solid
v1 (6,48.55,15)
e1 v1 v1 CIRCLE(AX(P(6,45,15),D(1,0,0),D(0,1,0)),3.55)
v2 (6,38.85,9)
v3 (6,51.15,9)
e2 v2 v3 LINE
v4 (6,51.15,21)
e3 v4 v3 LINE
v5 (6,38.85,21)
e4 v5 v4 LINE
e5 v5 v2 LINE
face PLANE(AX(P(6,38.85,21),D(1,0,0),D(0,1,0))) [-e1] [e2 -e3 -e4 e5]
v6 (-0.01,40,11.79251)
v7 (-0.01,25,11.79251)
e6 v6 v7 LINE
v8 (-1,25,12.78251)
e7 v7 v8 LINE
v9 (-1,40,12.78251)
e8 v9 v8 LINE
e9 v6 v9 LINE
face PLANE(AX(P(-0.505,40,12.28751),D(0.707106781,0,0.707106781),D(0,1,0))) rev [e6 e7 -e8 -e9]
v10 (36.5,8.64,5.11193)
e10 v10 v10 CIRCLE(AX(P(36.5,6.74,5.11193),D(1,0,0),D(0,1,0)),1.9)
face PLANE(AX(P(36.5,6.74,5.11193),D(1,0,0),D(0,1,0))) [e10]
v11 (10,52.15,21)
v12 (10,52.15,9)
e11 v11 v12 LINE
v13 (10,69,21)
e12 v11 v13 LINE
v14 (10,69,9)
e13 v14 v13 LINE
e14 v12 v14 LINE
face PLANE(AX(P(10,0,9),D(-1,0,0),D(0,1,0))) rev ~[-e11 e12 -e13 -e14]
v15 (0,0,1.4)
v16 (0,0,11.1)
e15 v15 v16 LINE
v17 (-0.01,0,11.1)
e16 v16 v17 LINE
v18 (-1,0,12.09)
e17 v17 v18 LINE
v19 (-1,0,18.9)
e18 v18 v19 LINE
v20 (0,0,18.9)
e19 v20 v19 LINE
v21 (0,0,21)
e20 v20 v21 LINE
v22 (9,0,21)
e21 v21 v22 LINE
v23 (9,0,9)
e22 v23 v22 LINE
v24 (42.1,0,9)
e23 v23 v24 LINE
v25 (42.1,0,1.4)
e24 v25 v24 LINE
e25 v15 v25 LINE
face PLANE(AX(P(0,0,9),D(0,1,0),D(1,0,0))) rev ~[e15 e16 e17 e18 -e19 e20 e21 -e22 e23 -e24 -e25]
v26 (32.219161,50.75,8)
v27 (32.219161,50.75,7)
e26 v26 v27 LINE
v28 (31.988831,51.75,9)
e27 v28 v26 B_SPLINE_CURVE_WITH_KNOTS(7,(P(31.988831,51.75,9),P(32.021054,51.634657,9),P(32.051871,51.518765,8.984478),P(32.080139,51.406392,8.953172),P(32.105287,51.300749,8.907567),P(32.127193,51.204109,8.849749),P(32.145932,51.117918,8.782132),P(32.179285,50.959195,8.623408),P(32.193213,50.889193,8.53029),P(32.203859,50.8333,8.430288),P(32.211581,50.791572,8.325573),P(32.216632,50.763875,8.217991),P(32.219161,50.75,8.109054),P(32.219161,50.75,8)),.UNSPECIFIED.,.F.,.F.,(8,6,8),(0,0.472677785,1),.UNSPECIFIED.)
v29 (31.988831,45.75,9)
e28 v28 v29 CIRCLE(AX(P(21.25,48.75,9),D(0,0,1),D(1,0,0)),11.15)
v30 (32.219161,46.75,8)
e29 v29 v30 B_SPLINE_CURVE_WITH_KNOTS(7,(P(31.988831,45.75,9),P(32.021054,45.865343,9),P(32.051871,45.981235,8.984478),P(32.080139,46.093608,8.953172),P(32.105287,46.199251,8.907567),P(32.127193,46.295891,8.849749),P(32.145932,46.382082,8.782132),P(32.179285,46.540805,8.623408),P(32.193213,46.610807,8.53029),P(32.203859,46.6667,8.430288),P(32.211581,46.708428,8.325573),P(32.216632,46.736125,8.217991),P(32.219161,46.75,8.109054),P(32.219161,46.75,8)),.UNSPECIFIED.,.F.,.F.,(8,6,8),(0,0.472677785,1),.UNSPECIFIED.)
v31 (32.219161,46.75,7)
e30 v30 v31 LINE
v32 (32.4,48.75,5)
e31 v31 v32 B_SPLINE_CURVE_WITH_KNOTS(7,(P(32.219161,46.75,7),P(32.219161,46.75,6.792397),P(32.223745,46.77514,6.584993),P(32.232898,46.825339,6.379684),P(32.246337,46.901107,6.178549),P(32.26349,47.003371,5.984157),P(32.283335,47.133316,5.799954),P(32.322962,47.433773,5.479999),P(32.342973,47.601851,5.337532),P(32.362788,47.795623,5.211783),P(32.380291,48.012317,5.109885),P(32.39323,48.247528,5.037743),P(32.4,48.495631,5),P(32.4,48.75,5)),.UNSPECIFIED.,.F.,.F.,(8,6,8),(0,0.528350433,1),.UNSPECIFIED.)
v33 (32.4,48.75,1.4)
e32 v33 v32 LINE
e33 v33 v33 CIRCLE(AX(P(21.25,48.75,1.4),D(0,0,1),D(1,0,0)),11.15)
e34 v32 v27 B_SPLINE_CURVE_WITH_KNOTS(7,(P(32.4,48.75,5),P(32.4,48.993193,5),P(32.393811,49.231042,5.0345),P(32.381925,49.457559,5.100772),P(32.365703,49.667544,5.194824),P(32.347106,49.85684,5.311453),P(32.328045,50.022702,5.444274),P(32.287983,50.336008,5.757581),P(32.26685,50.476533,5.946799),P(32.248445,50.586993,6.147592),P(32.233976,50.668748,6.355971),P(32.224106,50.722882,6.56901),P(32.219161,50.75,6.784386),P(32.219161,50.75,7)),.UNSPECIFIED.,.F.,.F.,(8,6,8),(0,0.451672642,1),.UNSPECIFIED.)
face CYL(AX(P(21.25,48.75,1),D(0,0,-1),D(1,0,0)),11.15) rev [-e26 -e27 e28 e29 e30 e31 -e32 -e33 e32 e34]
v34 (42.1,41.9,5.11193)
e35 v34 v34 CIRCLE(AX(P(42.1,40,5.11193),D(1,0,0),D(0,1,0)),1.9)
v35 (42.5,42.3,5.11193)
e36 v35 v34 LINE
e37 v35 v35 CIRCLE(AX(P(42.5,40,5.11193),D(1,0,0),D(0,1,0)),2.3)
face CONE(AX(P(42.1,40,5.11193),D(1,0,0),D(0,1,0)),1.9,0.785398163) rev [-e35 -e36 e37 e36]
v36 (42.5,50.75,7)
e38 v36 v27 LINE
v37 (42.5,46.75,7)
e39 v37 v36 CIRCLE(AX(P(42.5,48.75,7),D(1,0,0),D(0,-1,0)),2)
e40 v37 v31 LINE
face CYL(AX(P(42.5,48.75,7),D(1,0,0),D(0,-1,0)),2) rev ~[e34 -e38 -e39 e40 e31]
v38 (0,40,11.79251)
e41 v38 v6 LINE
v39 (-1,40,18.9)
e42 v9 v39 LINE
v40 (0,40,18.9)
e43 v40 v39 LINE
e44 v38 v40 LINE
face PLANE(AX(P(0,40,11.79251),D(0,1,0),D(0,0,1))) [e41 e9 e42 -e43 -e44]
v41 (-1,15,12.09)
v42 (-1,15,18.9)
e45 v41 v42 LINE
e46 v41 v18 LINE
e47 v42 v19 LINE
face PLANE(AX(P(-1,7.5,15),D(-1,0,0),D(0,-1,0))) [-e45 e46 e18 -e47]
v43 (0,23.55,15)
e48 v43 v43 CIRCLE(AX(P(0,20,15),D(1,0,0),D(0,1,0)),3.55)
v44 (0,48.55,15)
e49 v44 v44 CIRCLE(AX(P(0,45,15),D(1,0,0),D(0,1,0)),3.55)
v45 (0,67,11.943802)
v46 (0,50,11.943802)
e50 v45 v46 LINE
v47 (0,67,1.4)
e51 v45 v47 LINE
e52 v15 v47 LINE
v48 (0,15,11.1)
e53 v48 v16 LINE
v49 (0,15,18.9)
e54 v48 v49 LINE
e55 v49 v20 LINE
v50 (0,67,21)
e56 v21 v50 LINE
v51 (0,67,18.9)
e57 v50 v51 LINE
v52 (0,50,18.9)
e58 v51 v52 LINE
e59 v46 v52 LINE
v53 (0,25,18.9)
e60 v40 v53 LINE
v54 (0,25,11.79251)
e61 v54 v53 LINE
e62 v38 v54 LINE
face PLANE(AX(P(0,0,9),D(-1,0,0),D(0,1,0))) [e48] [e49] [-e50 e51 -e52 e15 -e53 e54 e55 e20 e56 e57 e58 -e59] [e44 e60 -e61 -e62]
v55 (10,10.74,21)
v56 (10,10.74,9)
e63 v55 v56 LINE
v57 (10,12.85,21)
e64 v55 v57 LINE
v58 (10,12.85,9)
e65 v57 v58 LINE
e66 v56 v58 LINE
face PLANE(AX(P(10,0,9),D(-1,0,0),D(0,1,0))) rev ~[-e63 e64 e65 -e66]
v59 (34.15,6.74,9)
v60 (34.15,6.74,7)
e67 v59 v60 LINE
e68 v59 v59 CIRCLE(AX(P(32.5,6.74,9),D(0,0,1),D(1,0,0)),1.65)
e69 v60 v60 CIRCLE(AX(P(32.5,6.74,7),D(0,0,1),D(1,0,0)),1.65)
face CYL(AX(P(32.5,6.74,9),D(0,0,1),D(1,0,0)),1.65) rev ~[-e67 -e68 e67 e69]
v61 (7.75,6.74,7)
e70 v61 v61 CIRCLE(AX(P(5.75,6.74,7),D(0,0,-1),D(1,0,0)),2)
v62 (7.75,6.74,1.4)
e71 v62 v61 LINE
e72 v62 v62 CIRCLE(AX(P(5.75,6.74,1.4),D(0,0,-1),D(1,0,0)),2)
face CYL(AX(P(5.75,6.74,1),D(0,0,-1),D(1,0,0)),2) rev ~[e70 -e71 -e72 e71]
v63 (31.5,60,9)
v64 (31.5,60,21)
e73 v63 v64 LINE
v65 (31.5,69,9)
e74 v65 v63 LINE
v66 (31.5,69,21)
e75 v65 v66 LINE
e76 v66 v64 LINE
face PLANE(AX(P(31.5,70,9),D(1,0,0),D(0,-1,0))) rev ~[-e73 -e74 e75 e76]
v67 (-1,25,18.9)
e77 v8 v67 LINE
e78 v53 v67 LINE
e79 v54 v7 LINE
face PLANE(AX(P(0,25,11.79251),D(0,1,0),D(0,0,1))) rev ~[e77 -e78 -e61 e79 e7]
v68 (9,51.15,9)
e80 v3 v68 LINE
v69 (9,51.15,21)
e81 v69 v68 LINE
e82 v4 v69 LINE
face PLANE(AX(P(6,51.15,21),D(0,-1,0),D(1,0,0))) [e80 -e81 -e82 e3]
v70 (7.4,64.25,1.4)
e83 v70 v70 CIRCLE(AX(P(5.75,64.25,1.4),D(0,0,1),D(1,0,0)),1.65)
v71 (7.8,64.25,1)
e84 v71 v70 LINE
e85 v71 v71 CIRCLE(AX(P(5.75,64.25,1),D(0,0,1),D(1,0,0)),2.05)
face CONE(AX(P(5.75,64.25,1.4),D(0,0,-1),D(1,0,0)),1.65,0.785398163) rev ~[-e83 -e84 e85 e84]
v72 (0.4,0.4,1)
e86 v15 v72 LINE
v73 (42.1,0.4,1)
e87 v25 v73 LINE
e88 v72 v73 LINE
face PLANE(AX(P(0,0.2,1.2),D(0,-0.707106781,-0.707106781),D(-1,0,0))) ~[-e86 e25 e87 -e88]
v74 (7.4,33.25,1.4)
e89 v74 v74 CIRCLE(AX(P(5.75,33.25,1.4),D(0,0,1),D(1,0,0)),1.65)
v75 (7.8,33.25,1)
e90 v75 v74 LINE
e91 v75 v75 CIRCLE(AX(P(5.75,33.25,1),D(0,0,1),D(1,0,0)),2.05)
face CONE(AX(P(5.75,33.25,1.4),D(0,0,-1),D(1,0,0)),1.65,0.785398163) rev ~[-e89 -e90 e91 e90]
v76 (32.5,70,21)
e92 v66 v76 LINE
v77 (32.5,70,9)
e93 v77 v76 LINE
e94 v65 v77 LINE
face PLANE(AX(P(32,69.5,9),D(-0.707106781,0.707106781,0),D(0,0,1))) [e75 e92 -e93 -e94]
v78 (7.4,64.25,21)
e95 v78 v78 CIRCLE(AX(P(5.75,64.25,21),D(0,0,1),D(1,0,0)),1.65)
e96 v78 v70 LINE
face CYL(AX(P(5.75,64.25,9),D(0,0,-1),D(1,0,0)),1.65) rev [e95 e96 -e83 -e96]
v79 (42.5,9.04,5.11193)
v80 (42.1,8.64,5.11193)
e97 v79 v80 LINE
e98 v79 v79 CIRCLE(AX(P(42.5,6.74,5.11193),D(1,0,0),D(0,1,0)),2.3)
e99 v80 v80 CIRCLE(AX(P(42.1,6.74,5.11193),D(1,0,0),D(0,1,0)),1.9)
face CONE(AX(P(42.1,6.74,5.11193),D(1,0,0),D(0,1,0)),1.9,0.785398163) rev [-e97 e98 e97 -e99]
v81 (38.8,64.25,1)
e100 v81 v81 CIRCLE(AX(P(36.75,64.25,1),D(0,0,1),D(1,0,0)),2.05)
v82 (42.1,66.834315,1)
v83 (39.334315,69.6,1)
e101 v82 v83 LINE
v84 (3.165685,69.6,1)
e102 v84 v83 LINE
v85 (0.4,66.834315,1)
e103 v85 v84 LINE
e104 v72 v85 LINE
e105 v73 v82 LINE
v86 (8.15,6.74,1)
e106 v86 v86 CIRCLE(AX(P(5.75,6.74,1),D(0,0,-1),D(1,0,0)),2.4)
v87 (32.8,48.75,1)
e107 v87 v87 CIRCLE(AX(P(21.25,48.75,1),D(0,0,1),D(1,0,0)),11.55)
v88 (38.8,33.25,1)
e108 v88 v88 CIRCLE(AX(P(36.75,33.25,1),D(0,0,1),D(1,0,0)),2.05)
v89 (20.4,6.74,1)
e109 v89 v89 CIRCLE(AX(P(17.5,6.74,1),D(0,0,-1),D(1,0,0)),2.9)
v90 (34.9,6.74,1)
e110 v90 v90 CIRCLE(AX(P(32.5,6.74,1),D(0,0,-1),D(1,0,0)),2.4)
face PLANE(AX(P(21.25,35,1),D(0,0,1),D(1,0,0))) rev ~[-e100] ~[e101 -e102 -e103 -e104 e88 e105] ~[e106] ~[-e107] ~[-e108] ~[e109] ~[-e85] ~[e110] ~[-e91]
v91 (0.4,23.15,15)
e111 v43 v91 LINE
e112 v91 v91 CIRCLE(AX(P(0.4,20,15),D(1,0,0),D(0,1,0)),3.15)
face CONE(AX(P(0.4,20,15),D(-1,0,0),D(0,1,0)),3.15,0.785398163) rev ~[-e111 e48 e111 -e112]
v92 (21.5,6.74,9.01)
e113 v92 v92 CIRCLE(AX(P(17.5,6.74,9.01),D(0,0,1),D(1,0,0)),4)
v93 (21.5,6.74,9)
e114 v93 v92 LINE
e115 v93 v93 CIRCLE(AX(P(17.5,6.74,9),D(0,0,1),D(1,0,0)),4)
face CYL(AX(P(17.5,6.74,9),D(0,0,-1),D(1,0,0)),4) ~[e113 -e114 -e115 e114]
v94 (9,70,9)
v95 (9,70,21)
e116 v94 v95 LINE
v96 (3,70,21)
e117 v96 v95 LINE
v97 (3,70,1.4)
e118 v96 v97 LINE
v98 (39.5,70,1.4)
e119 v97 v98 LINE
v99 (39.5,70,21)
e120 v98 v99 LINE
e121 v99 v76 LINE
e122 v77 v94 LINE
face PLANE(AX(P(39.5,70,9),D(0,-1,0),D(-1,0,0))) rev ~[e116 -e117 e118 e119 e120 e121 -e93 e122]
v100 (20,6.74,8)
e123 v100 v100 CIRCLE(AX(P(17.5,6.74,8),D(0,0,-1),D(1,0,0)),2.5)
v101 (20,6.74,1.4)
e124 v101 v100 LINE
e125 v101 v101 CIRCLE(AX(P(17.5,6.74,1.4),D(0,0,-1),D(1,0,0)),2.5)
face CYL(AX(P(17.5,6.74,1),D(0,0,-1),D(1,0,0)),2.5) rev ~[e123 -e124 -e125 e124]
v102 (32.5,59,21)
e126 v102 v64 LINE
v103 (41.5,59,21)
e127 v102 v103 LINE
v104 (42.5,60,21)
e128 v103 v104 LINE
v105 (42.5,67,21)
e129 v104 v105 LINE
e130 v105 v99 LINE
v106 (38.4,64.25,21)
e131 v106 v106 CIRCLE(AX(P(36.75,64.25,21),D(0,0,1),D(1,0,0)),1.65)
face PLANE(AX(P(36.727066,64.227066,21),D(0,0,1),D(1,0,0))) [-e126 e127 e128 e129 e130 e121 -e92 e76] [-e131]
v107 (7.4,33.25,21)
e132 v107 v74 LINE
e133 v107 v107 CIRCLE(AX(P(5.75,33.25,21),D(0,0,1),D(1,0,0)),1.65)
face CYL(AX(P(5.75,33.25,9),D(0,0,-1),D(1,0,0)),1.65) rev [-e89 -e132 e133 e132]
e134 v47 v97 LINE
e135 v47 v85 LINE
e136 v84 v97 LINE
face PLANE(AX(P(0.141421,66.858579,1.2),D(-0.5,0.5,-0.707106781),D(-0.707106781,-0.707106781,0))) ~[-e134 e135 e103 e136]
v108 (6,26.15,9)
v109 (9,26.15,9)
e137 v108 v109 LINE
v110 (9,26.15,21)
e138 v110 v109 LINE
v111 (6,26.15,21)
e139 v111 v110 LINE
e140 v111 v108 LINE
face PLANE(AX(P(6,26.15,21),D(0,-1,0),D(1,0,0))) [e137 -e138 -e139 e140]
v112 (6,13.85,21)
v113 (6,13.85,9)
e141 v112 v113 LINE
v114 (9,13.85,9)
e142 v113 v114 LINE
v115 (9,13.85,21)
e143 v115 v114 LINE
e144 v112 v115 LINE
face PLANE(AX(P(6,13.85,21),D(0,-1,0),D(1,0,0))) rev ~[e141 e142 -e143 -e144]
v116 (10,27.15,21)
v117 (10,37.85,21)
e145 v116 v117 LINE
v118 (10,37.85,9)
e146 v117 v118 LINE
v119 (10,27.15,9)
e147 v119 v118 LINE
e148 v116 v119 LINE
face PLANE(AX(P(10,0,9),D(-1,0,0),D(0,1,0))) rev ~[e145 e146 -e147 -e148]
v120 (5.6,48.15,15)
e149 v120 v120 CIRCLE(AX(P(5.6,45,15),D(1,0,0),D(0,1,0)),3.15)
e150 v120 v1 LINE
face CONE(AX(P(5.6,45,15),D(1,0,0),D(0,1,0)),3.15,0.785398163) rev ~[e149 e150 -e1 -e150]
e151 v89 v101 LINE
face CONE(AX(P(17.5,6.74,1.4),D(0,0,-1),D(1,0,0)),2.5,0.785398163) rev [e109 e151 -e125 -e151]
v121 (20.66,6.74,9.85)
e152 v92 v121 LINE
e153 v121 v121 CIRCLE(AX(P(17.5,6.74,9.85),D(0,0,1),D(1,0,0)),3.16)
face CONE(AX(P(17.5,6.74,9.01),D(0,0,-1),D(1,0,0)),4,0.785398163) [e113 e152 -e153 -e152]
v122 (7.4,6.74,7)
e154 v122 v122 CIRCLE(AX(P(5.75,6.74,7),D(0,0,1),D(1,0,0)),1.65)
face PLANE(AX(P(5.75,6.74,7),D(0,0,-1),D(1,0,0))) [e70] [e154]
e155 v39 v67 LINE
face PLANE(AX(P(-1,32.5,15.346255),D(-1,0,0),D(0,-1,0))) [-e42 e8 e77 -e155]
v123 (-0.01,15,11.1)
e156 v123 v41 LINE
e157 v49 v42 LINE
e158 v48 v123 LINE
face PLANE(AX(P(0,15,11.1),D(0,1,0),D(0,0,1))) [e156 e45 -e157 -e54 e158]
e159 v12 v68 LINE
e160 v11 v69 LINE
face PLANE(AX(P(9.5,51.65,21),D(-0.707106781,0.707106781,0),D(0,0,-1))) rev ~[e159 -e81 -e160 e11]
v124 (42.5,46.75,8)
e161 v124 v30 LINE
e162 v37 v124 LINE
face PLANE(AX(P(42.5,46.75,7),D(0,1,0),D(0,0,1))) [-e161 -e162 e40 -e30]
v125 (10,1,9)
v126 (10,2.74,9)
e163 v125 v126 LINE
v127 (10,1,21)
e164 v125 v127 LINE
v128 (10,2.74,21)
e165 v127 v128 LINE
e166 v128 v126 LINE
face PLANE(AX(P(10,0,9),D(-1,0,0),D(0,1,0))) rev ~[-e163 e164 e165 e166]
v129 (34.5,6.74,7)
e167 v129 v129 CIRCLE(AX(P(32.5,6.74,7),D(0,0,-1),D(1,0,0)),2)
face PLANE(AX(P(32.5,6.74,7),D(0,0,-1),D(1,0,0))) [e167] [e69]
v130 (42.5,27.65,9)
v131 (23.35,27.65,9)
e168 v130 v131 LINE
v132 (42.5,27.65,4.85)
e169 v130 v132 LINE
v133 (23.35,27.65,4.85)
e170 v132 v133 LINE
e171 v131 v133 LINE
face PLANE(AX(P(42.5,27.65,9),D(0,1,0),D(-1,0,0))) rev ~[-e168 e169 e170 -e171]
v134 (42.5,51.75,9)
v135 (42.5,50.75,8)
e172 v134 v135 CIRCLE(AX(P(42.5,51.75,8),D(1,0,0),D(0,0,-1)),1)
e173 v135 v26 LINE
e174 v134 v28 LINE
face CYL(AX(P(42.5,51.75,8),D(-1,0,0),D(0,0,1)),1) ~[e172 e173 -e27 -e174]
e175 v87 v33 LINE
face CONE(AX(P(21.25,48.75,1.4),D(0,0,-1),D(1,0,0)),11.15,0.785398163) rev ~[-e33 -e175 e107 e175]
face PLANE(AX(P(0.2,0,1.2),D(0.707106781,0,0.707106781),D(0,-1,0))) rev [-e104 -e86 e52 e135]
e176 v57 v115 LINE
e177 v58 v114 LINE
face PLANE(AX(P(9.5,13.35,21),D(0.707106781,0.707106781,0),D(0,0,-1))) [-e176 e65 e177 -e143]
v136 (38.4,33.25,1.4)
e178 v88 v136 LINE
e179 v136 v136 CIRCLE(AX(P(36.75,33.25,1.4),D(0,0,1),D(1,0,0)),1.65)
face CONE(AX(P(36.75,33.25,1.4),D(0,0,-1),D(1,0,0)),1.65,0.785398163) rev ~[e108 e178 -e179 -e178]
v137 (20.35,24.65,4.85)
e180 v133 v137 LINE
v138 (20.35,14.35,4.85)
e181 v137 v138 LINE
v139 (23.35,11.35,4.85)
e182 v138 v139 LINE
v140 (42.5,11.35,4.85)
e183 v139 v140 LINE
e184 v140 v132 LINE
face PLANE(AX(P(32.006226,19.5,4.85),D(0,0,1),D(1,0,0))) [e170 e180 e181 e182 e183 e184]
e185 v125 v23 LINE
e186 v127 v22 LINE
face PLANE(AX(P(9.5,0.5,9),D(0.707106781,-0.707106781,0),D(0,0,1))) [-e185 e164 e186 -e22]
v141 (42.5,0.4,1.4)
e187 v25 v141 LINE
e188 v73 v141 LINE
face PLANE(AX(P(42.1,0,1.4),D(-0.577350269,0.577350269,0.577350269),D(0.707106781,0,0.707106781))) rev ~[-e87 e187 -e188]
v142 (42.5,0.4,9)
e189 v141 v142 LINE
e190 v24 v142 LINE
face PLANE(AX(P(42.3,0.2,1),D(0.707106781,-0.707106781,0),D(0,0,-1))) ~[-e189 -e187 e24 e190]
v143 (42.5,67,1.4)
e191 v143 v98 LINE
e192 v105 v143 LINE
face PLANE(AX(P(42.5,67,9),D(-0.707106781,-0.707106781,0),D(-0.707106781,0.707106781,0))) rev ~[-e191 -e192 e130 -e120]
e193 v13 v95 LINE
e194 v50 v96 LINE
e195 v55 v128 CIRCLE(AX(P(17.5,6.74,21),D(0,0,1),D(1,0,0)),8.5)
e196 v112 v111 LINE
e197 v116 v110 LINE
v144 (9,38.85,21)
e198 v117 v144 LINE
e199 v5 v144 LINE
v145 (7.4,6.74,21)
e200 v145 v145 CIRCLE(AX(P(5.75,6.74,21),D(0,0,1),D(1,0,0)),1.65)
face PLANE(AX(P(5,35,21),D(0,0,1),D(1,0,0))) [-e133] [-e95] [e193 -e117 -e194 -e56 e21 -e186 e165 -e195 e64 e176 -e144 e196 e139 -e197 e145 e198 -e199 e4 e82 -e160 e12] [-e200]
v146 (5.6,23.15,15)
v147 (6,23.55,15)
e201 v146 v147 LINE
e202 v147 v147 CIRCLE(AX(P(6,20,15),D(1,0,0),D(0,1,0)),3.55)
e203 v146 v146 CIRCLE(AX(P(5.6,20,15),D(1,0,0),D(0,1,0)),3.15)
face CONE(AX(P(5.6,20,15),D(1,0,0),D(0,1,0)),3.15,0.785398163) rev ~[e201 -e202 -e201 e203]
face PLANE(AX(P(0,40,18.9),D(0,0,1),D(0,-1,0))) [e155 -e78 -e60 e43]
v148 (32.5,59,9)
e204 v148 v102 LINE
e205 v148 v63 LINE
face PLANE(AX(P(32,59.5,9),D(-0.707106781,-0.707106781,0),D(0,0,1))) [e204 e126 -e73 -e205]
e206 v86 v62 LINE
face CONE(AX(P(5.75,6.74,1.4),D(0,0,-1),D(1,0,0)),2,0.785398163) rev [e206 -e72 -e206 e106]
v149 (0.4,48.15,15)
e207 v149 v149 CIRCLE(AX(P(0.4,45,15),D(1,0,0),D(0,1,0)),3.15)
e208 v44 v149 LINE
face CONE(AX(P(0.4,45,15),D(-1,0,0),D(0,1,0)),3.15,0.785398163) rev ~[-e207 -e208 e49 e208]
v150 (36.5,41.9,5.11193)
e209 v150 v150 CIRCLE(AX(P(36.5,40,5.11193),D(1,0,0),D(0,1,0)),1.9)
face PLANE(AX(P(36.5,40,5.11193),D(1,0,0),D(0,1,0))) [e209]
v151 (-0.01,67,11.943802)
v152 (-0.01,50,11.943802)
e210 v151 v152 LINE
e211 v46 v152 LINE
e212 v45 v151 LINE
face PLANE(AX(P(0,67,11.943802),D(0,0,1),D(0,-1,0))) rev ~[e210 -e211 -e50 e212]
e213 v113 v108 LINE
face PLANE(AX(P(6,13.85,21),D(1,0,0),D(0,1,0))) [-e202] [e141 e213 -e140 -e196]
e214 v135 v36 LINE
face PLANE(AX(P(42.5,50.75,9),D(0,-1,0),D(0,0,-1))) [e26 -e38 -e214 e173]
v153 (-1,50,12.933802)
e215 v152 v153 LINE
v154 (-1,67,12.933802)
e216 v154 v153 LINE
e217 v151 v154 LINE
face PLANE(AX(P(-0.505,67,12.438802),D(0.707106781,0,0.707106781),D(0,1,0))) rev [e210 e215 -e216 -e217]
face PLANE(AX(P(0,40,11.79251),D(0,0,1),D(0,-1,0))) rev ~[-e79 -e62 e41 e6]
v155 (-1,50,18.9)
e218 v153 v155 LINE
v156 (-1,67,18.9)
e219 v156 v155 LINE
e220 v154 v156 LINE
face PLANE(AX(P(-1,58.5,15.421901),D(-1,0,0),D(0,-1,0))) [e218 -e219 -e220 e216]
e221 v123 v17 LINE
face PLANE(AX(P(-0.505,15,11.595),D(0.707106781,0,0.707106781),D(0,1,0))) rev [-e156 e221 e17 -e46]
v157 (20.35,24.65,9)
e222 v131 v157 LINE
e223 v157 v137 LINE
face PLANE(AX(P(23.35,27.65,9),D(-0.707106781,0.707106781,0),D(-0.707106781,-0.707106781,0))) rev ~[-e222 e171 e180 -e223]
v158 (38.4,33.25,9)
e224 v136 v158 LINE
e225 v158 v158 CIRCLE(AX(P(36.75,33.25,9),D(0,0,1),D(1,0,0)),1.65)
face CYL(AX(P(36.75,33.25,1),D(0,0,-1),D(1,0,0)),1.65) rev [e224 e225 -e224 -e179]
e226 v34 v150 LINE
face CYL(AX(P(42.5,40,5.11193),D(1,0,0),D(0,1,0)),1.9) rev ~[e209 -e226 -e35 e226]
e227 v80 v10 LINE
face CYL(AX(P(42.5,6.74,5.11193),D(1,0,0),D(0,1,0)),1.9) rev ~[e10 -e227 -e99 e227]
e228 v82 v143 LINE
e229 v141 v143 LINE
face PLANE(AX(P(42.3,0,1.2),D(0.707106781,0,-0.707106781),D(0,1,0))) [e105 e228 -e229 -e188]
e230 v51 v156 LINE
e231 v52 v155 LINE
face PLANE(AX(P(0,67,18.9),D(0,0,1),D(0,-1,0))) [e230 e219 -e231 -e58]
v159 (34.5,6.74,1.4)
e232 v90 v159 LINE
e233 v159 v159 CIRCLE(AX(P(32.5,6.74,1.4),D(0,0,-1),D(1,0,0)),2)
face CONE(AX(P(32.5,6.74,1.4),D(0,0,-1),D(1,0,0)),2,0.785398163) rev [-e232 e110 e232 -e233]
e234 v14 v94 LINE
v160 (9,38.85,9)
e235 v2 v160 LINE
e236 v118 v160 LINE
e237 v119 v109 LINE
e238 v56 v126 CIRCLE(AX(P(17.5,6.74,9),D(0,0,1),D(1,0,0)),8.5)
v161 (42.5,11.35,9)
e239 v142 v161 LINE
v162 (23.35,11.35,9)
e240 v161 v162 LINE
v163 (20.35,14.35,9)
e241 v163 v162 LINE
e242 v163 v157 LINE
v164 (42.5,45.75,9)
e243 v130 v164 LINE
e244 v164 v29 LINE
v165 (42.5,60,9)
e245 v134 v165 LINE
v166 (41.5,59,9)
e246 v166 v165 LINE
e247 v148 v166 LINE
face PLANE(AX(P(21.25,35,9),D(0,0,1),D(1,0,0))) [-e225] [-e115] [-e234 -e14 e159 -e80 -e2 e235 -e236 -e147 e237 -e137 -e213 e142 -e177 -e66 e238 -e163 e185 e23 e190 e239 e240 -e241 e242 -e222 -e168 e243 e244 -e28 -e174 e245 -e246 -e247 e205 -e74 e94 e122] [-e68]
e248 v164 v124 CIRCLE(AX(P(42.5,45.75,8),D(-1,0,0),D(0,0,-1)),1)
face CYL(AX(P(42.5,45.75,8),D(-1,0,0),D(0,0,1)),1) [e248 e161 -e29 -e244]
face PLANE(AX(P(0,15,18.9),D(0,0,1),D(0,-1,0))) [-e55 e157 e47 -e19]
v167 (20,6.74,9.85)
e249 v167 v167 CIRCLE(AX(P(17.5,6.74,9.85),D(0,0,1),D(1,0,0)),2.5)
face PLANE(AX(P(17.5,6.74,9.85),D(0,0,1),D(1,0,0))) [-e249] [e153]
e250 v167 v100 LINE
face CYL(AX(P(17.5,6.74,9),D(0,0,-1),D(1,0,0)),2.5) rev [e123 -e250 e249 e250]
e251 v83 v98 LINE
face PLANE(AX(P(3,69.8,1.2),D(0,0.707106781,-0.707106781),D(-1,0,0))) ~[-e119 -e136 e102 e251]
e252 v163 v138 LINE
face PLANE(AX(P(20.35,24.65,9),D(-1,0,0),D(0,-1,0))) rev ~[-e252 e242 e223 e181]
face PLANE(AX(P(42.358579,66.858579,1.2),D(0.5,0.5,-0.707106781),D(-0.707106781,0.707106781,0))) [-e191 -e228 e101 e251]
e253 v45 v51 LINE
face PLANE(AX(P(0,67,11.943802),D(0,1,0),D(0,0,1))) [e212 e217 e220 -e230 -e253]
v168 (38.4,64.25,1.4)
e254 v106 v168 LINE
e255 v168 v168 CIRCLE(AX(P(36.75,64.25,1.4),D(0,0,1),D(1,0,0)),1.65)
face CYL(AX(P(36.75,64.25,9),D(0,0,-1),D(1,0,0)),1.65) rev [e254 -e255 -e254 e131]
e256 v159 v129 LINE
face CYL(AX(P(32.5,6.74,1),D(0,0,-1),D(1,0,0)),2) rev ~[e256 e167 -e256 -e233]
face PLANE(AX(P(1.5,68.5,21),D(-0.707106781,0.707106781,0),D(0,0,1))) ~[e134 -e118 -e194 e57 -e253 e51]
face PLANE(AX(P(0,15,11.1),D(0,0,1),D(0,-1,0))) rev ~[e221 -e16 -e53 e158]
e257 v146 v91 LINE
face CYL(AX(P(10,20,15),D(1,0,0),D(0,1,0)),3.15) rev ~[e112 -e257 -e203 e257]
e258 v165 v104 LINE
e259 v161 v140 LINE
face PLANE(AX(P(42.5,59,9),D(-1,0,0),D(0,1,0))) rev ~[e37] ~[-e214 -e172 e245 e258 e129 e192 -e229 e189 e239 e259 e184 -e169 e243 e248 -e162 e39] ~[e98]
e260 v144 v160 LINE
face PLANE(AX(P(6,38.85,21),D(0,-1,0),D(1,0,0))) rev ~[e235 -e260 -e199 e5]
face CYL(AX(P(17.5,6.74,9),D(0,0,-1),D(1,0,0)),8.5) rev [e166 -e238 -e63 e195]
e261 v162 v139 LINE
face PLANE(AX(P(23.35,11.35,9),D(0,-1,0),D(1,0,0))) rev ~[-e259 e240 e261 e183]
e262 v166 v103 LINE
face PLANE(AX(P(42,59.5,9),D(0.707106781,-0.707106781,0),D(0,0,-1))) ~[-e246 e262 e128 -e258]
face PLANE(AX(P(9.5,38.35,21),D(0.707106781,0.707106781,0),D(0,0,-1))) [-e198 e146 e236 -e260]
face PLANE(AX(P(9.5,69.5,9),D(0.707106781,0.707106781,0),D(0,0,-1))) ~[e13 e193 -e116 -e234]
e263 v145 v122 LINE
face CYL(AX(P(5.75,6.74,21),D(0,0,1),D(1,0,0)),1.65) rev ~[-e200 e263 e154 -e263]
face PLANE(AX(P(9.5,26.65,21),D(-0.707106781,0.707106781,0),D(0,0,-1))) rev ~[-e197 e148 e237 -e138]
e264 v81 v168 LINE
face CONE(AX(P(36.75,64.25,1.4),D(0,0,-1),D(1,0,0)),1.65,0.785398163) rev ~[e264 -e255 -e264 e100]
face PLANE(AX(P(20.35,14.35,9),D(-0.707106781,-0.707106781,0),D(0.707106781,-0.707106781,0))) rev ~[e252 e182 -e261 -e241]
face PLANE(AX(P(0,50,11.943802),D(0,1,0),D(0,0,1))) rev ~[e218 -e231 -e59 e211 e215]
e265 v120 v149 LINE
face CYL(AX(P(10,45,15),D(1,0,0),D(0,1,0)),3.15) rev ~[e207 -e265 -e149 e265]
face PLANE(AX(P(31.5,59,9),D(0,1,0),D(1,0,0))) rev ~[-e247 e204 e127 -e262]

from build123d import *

# Parameters (mm, degrees)
SKETCH_W        = 42.5
SKETCH_H        = 70
SKETCH_R        = 11.15
SKETCH_R_2      = 1.65
SKETCH_R_3      = 2.5
PAD003_DEPTH    = 8
POCKET002_DEPTH = 4.15
SKETCH007_W     = 10
SKETCH007_H     = 70
SKETCH007_R     = 1.65
PAD004_DEPTH    = 12
SKETCH008_R     = 8.5
POCKET003_DEPTH = 12
CHAMFER004_SIZE = 3
SKETCH011_R     = 1.65
PAD005_DEPTH    = 12
CHAMFER005_SIZE = 1
SKETCH012_R     = 1.65
POCKET005_DEPTH = 8.001
SKETCH013_R     = 1.65
POCKET006_DEPTH = 20.001
SKETCH014_R     = 4
SKETCH014_R_2   = 2.5
PAD006_DEPTH    = 0.85
CHAMFER006_SIZE = 0.84
SKETCH015_R     = 1.9
POCKET007_DEPTH = 6
SKETCH016_R     = 3.15
POCKET008_DEPTH = 10.001
SKETCH017_W     = 4
SKETCH017_H     = 12.3
POCKET009_DEPTH = 12
CHAMFER007_SIZE = 1
SKETCH018_W     = 17
SKETCH018_H     = 6.956198
SKETCH018_W_2   = 15
SKETCH018_H_2   = 7.10749
SKETCH018_H_3   = 7.8
PAD007_DEPTH    = 1
CHAMFER008_SIZE = 0.99
SKETCH019_R     = 3.25
POCKET010_DEPTH = 7
SKETCH020_R     = 2
POCKET011_DEPTH = 6
CHAMFER009_SIZE = 0.4
POCKET027_DEPTH = 12
FILLET_R        = 1
SKETCH041_R     = 4.5
SKETCH041_R_2   = 2.5
PAD012_DEPTH    = 7
CHAMFER021_SIZE = 0.4


with BuildPart() as part:
    # Sketch → Pad003 (new body)
    with BuildSketch(Plane.XY):
        with Locations((21.25, 35)):
            Rectangle(SKETCH_W, SKETCH_H)
        with Locations((21.25, 48.75)):
            Circle(SKETCH_R, mode=Mode.SUBTRACT)
        with Locations((5.75, 64.25)):
            Circle(SKETCH_R_2, mode=Mode.SUBTRACT)
        with Locations((36.75, 64.25)):
            Circle(SKETCH_R_2, mode=Mode.SUBTRACT)
        with Locations((5.75, 33.25)):
            Circle(SKETCH_R_2, mode=Mode.SUBTRACT)
        with Locations((36.75, 33.25)):
            Circle(SKETCH_R_2, mode=Mode.SUBTRACT)
        with Locations((17.5, 6.74)):
            Circle(SKETCH_R_3, mode=Mode.SUBTRACT)
    extrude(amount=PAD003_DEPTH)

    # Sketch006 (on Face12 of Pad003) → Pocket002 (cut)
    with BuildSketch(Plane.XY.offset(8)):
        Polygon((42.5, 27.65), (23.35, 27.65), (20.35, 24.65), (20.35, 14.35), (23.35, 11.35), (42.5, 11.35), align=None)
    extrude(amount=-POCKET002_DEPTH, mode=Mode.SUBTRACT)

    # Sketch007 (on Face4 of Pocket002) → Pad004 (join)
    with BuildSketch(Plane.XY.offset(8)):
        with Locations((5, 35)):
            Rectangle(SKETCH007_W, SKETCH007_H)
        with Locations((5.75, 64.25)):
            Circle(SKETCH007_R, mode=Mode.SUBTRACT)
        with Locations((5.75, 33.25)):
            Circle(SKETCH007_R, mode=Mode.SUBTRACT)
    extrude(amount=PAD004_DEPTH)

    # Sketch008 (on Face4 of Pad004) → Pocket003 (cut)
    with BuildSketch(Plane.XY.offset(8)):
        with Locations((17.5, 6.74)):
            Circle(SKETCH008_R)
    extrude(amount=POCKET003_DEPTH, mode=Mode.SUBTRACT)

    # Chamfer004
    chamfer004_edges = [part.edges().sort_by_distance(p)[0] for p in [
        (42.5, 70, 4),
        (0, 70, 4),
    ]]
    chamfer(chamfer004_edges, length=CHAMFER004_SIZE)

    # Sketch011 (on Face5 of Chamfer004) → Pad005 (join)
    with BuildSketch(Plane.XY.offset(8)):
        Polygon((42.5, 67), (39.5, 70), (31.5, 70), (31.5, 59), (42.5, 59), align=None)
        with Locations((36.75, 64.25)):
            Circle(SKETCH011_R, mode=Mode.SUBTRACT)
    extrude(amount=PAD005_DEPTH)

    # Chamfer005
    chamfer005_edges = [part.edges().sort_by_distance(p)[0] for p in [
        (42.5, 59, 14),
        (31.5, 59, 14),
        (31.5, 70, 14),
        (10, 70, 14),
        (10, 0, 14),
    ]]
    chamfer(chamfer005_edges, length=CHAMFER005_SIZE)

    # Sketch012 (on Face26 of Chamfer005) → Pocket005 (cut, through all)
    with BuildSketch(Plane.XY.offset(8)):
        with Locations((32.5, 6.74)):
            Circle(SKETCH012_R)
    extrude(amount=-POCKET005_DEPTH, mode=Mode.SUBTRACT)

    # Sketch013 (on Face38 of Pocket005) → Pocket006 (cut, through all)
    with BuildSketch(Plane.XY.offset(20)):
        with Locations((5.75, 6.74)):
            Circle(SKETCH013_R)
    extrude(amount=-POCKET006_DEPTH, mode=Mode.SUBTRACT)

    # Sketch014 (on Face18 of Pocket006) → Pad006 (join)
    with BuildSketch(Plane.XY.offset(8)):
        with Locations((17.5, 6.74)):
            Circle(SKETCH014_R)
        with Locations((17.5, 6.74)):
            Circle(SKETCH014_R_2, mode=Mode.SUBTRACT)
    extrude(amount=PAD006_DEPTH)

    # Chamfer006
    chamfer006_edges = [part.edges().sort_by_distance(p)[0] for p in [
        (13.5, 6.74, 8.85),
    ]]
    chamfer(chamfer006_edges, length=CHAMFER006_SIZE)

    # Sketch015 (on Face17 of Chamfer006) → Pocket007 (cut)
    with BuildSketch(Plane.YZ.offset(42.5)):
        with Locations((6.74, 4.11193)):
            Circle(SKETCH015_R)
        with Locations((40, 4.11193)):
            Circle(SKETCH015_R)
    extrude(amount=-POCKET007_DEPTH, mode=Mode.SUBTRACT)

    # Sketch016 (on Face14 of Pocket007) → Pocket008 (cut, through all)
    with BuildSketch(Plane.YZ.offset(10)):
        with Locations((20, 14)):
            Circle(SKETCH016_R)
        with Locations((45, 14)):
            Circle(SKETCH016_R)
    extrude(amount=-POCKET008_DEPTH, mode=Mode.SUBTRACT)

    # Sketch017 (on Face36 of Pocket008) → Pocket009 (cut)
    with BuildSketch(Plane.XY.offset(20)):
        with Locations((8, 45)):
            Rectangle(SKETCH017_W, SKETCH017_H)
        with Locations((8, 20)):
            Rectangle(SKETCH017_W, SKETCH017_H)
    extrude(amount=-POCKET009_DEPTH, mode=Mode.SUBTRACT)

    # Chamfer007
    chamfer007_edges = [part.edges().sort_by_distance(p)[0] for p in [
        (10, 13.85, 14),
        (10, 26.15, 14),
        (10, 38.85, 14),
        (10, 51.15, 14),
    ]]
    chamfer(chamfer007_edges, length=CHAMFER007_SIZE)

    # Sketch018 (on Face53 of Chamfer007) → Pad007 (join)
    with BuildSketch(Plane(origin=(0, 0, 0), x_dir=(0, -1, 0), z_dir=(-1, 0, 0))):
        with Locations((-58.5, 14.421901)):
            Rectangle(SKETCH018_W, SKETCH018_H)
        with Locations((-32.5, 14.346255)):
            Rectangle(SKETCH018_W_2, SKETCH018_H_2)
        with Locations((-7.5, 14)):
            Rectangle(SKETCH018_W_2, SKETCH018_H_3)
    extrude(amount=PAD007_DEPTH)

    # Chamfer008
    chamfer008_edges = [part.edges().sort_by_distance(p)[0] for p in [
        (-1, 58.5, 10.943802),
        (-1, 32.5, 10.79251),
        (-1, 7.5, 10.1),
    ]]
    chamfer(chamfer008_edges, length=CHAMFER008_SIZE)

    # Sketch019 (on Face47 of Chamfer008) → Pocket010 (cut)
    with BuildSketch(Plane(origin=(0, 0, 0), x_dir=(1, 0, 0), z_dir=(0, 0, -1))):
        with Locations((17.5, -6.74)):
            Circle(SKETCH019_R)
    extrude(amount=-POCKET010_DEPTH, mode=Mode.SUBTRACT)

    # Sketch020 (on Face47 of Pocket010) → Pocket011 (cut)
    with BuildSketch(Plane(origin=(0, 0, 0), x_dir=(1, 0, 0), z_dir=(0, 0, -1))):
        with Locations((5.75, -6.74)):
            Circle(SKETCH020_R)
        with Locations((32.5, -6.74)):
            Circle(SKETCH020_R)
    extrude(amount=-POCKET011_DEPTH, mode=Mode.SUBTRACT)

    # Chamfer009
    chamfer009_edges = [part.edges().sort_by_distance(p)[0] for p in [
        (42.5, 33.5, 0),
        (41, 68.5, 0),
        (21.25, 0, 0),
        (21.25, 70, 0),
        (0, 33.5, 0),
        (1.5, 68.5, 0),
        (3.75, 6.74, 0),
        (14.25, 6.74, 0),
        (4.1, 33.25, 0),
        (30.5, 6.74, 0),
        (35.1, 33.25, 0),
        (4.1, 64.25, 0),
        (10.1, 48.75, 0),
        (35.1, 64.25, 0),
        (0, 41.85, 14),
        (0, 16.85, 14),
        (6, 16.85, 14),
        (6, 41.85, 14),
        (42.5, 4.84, 4.11193),
        (42.5, 38.1, 4.11193),
        (42.5, 0, 4),
    ]]
    chamfer(chamfer009_edges, length=CHAMFER009_SIZE)

    # Sketch040 (on Face78 of Chamfer009) → Pocket027 (cut)
    with BuildSketch(Plane.YZ.offset(42.5)):
        with BuildLine():
            ThreePointArc((46.75, 6), (48.75, 4), (50.75, 6))
            Line((50.75, 8), (50.75, 6))
            Line((48.75, 8), (50.75, 8))
            Line((46.75, 8), (48.75, 8))
            Line((46.75, 6), (46.75, 8))
        make_face()
    extrude(amount=-POCKET027_DEPTH, mode=Mode.SUBTRACT)

    # Fillet
    fillet_edges = [part.edges().sort_by_distance(p)[0] for p in [
        (37.359581, 46.75, 8),
        (37.359581, 50.75, 8),
    ]]
    fillet(fillet_edges, radius=FILLET_R)

    # Sketch041 (on Face62 of Fillet) → Pad012 (join)
    with BuildSketch(Plane(origin=(0, 0, 0), x_dir=(1, 0, 0), z_dir=(0, 0, -1))):
        with Locations((17.5, -6.74)):
            Circle(SKETCH041_R)
        with Locations((17.5, -6.74)):
            Circle(SKETCH041_R_2, mode=Mode.SUBTRACT)
    extrude(amount=-PAD012_DEPTH)

    # Chamfer021
    chamfer021_edges = [part.edges().sort_by_distance(p)[0] for p in [
        (15, 6.74, 0),
    ]]
    chamfer(chamfer021_edges, length=CHAMFER021_SIZE)


with BuildPart() as part_1:
    # Body placement: moved
    add(part.part.moved(Location((0, 0, 1))))


solid = part_1.part
